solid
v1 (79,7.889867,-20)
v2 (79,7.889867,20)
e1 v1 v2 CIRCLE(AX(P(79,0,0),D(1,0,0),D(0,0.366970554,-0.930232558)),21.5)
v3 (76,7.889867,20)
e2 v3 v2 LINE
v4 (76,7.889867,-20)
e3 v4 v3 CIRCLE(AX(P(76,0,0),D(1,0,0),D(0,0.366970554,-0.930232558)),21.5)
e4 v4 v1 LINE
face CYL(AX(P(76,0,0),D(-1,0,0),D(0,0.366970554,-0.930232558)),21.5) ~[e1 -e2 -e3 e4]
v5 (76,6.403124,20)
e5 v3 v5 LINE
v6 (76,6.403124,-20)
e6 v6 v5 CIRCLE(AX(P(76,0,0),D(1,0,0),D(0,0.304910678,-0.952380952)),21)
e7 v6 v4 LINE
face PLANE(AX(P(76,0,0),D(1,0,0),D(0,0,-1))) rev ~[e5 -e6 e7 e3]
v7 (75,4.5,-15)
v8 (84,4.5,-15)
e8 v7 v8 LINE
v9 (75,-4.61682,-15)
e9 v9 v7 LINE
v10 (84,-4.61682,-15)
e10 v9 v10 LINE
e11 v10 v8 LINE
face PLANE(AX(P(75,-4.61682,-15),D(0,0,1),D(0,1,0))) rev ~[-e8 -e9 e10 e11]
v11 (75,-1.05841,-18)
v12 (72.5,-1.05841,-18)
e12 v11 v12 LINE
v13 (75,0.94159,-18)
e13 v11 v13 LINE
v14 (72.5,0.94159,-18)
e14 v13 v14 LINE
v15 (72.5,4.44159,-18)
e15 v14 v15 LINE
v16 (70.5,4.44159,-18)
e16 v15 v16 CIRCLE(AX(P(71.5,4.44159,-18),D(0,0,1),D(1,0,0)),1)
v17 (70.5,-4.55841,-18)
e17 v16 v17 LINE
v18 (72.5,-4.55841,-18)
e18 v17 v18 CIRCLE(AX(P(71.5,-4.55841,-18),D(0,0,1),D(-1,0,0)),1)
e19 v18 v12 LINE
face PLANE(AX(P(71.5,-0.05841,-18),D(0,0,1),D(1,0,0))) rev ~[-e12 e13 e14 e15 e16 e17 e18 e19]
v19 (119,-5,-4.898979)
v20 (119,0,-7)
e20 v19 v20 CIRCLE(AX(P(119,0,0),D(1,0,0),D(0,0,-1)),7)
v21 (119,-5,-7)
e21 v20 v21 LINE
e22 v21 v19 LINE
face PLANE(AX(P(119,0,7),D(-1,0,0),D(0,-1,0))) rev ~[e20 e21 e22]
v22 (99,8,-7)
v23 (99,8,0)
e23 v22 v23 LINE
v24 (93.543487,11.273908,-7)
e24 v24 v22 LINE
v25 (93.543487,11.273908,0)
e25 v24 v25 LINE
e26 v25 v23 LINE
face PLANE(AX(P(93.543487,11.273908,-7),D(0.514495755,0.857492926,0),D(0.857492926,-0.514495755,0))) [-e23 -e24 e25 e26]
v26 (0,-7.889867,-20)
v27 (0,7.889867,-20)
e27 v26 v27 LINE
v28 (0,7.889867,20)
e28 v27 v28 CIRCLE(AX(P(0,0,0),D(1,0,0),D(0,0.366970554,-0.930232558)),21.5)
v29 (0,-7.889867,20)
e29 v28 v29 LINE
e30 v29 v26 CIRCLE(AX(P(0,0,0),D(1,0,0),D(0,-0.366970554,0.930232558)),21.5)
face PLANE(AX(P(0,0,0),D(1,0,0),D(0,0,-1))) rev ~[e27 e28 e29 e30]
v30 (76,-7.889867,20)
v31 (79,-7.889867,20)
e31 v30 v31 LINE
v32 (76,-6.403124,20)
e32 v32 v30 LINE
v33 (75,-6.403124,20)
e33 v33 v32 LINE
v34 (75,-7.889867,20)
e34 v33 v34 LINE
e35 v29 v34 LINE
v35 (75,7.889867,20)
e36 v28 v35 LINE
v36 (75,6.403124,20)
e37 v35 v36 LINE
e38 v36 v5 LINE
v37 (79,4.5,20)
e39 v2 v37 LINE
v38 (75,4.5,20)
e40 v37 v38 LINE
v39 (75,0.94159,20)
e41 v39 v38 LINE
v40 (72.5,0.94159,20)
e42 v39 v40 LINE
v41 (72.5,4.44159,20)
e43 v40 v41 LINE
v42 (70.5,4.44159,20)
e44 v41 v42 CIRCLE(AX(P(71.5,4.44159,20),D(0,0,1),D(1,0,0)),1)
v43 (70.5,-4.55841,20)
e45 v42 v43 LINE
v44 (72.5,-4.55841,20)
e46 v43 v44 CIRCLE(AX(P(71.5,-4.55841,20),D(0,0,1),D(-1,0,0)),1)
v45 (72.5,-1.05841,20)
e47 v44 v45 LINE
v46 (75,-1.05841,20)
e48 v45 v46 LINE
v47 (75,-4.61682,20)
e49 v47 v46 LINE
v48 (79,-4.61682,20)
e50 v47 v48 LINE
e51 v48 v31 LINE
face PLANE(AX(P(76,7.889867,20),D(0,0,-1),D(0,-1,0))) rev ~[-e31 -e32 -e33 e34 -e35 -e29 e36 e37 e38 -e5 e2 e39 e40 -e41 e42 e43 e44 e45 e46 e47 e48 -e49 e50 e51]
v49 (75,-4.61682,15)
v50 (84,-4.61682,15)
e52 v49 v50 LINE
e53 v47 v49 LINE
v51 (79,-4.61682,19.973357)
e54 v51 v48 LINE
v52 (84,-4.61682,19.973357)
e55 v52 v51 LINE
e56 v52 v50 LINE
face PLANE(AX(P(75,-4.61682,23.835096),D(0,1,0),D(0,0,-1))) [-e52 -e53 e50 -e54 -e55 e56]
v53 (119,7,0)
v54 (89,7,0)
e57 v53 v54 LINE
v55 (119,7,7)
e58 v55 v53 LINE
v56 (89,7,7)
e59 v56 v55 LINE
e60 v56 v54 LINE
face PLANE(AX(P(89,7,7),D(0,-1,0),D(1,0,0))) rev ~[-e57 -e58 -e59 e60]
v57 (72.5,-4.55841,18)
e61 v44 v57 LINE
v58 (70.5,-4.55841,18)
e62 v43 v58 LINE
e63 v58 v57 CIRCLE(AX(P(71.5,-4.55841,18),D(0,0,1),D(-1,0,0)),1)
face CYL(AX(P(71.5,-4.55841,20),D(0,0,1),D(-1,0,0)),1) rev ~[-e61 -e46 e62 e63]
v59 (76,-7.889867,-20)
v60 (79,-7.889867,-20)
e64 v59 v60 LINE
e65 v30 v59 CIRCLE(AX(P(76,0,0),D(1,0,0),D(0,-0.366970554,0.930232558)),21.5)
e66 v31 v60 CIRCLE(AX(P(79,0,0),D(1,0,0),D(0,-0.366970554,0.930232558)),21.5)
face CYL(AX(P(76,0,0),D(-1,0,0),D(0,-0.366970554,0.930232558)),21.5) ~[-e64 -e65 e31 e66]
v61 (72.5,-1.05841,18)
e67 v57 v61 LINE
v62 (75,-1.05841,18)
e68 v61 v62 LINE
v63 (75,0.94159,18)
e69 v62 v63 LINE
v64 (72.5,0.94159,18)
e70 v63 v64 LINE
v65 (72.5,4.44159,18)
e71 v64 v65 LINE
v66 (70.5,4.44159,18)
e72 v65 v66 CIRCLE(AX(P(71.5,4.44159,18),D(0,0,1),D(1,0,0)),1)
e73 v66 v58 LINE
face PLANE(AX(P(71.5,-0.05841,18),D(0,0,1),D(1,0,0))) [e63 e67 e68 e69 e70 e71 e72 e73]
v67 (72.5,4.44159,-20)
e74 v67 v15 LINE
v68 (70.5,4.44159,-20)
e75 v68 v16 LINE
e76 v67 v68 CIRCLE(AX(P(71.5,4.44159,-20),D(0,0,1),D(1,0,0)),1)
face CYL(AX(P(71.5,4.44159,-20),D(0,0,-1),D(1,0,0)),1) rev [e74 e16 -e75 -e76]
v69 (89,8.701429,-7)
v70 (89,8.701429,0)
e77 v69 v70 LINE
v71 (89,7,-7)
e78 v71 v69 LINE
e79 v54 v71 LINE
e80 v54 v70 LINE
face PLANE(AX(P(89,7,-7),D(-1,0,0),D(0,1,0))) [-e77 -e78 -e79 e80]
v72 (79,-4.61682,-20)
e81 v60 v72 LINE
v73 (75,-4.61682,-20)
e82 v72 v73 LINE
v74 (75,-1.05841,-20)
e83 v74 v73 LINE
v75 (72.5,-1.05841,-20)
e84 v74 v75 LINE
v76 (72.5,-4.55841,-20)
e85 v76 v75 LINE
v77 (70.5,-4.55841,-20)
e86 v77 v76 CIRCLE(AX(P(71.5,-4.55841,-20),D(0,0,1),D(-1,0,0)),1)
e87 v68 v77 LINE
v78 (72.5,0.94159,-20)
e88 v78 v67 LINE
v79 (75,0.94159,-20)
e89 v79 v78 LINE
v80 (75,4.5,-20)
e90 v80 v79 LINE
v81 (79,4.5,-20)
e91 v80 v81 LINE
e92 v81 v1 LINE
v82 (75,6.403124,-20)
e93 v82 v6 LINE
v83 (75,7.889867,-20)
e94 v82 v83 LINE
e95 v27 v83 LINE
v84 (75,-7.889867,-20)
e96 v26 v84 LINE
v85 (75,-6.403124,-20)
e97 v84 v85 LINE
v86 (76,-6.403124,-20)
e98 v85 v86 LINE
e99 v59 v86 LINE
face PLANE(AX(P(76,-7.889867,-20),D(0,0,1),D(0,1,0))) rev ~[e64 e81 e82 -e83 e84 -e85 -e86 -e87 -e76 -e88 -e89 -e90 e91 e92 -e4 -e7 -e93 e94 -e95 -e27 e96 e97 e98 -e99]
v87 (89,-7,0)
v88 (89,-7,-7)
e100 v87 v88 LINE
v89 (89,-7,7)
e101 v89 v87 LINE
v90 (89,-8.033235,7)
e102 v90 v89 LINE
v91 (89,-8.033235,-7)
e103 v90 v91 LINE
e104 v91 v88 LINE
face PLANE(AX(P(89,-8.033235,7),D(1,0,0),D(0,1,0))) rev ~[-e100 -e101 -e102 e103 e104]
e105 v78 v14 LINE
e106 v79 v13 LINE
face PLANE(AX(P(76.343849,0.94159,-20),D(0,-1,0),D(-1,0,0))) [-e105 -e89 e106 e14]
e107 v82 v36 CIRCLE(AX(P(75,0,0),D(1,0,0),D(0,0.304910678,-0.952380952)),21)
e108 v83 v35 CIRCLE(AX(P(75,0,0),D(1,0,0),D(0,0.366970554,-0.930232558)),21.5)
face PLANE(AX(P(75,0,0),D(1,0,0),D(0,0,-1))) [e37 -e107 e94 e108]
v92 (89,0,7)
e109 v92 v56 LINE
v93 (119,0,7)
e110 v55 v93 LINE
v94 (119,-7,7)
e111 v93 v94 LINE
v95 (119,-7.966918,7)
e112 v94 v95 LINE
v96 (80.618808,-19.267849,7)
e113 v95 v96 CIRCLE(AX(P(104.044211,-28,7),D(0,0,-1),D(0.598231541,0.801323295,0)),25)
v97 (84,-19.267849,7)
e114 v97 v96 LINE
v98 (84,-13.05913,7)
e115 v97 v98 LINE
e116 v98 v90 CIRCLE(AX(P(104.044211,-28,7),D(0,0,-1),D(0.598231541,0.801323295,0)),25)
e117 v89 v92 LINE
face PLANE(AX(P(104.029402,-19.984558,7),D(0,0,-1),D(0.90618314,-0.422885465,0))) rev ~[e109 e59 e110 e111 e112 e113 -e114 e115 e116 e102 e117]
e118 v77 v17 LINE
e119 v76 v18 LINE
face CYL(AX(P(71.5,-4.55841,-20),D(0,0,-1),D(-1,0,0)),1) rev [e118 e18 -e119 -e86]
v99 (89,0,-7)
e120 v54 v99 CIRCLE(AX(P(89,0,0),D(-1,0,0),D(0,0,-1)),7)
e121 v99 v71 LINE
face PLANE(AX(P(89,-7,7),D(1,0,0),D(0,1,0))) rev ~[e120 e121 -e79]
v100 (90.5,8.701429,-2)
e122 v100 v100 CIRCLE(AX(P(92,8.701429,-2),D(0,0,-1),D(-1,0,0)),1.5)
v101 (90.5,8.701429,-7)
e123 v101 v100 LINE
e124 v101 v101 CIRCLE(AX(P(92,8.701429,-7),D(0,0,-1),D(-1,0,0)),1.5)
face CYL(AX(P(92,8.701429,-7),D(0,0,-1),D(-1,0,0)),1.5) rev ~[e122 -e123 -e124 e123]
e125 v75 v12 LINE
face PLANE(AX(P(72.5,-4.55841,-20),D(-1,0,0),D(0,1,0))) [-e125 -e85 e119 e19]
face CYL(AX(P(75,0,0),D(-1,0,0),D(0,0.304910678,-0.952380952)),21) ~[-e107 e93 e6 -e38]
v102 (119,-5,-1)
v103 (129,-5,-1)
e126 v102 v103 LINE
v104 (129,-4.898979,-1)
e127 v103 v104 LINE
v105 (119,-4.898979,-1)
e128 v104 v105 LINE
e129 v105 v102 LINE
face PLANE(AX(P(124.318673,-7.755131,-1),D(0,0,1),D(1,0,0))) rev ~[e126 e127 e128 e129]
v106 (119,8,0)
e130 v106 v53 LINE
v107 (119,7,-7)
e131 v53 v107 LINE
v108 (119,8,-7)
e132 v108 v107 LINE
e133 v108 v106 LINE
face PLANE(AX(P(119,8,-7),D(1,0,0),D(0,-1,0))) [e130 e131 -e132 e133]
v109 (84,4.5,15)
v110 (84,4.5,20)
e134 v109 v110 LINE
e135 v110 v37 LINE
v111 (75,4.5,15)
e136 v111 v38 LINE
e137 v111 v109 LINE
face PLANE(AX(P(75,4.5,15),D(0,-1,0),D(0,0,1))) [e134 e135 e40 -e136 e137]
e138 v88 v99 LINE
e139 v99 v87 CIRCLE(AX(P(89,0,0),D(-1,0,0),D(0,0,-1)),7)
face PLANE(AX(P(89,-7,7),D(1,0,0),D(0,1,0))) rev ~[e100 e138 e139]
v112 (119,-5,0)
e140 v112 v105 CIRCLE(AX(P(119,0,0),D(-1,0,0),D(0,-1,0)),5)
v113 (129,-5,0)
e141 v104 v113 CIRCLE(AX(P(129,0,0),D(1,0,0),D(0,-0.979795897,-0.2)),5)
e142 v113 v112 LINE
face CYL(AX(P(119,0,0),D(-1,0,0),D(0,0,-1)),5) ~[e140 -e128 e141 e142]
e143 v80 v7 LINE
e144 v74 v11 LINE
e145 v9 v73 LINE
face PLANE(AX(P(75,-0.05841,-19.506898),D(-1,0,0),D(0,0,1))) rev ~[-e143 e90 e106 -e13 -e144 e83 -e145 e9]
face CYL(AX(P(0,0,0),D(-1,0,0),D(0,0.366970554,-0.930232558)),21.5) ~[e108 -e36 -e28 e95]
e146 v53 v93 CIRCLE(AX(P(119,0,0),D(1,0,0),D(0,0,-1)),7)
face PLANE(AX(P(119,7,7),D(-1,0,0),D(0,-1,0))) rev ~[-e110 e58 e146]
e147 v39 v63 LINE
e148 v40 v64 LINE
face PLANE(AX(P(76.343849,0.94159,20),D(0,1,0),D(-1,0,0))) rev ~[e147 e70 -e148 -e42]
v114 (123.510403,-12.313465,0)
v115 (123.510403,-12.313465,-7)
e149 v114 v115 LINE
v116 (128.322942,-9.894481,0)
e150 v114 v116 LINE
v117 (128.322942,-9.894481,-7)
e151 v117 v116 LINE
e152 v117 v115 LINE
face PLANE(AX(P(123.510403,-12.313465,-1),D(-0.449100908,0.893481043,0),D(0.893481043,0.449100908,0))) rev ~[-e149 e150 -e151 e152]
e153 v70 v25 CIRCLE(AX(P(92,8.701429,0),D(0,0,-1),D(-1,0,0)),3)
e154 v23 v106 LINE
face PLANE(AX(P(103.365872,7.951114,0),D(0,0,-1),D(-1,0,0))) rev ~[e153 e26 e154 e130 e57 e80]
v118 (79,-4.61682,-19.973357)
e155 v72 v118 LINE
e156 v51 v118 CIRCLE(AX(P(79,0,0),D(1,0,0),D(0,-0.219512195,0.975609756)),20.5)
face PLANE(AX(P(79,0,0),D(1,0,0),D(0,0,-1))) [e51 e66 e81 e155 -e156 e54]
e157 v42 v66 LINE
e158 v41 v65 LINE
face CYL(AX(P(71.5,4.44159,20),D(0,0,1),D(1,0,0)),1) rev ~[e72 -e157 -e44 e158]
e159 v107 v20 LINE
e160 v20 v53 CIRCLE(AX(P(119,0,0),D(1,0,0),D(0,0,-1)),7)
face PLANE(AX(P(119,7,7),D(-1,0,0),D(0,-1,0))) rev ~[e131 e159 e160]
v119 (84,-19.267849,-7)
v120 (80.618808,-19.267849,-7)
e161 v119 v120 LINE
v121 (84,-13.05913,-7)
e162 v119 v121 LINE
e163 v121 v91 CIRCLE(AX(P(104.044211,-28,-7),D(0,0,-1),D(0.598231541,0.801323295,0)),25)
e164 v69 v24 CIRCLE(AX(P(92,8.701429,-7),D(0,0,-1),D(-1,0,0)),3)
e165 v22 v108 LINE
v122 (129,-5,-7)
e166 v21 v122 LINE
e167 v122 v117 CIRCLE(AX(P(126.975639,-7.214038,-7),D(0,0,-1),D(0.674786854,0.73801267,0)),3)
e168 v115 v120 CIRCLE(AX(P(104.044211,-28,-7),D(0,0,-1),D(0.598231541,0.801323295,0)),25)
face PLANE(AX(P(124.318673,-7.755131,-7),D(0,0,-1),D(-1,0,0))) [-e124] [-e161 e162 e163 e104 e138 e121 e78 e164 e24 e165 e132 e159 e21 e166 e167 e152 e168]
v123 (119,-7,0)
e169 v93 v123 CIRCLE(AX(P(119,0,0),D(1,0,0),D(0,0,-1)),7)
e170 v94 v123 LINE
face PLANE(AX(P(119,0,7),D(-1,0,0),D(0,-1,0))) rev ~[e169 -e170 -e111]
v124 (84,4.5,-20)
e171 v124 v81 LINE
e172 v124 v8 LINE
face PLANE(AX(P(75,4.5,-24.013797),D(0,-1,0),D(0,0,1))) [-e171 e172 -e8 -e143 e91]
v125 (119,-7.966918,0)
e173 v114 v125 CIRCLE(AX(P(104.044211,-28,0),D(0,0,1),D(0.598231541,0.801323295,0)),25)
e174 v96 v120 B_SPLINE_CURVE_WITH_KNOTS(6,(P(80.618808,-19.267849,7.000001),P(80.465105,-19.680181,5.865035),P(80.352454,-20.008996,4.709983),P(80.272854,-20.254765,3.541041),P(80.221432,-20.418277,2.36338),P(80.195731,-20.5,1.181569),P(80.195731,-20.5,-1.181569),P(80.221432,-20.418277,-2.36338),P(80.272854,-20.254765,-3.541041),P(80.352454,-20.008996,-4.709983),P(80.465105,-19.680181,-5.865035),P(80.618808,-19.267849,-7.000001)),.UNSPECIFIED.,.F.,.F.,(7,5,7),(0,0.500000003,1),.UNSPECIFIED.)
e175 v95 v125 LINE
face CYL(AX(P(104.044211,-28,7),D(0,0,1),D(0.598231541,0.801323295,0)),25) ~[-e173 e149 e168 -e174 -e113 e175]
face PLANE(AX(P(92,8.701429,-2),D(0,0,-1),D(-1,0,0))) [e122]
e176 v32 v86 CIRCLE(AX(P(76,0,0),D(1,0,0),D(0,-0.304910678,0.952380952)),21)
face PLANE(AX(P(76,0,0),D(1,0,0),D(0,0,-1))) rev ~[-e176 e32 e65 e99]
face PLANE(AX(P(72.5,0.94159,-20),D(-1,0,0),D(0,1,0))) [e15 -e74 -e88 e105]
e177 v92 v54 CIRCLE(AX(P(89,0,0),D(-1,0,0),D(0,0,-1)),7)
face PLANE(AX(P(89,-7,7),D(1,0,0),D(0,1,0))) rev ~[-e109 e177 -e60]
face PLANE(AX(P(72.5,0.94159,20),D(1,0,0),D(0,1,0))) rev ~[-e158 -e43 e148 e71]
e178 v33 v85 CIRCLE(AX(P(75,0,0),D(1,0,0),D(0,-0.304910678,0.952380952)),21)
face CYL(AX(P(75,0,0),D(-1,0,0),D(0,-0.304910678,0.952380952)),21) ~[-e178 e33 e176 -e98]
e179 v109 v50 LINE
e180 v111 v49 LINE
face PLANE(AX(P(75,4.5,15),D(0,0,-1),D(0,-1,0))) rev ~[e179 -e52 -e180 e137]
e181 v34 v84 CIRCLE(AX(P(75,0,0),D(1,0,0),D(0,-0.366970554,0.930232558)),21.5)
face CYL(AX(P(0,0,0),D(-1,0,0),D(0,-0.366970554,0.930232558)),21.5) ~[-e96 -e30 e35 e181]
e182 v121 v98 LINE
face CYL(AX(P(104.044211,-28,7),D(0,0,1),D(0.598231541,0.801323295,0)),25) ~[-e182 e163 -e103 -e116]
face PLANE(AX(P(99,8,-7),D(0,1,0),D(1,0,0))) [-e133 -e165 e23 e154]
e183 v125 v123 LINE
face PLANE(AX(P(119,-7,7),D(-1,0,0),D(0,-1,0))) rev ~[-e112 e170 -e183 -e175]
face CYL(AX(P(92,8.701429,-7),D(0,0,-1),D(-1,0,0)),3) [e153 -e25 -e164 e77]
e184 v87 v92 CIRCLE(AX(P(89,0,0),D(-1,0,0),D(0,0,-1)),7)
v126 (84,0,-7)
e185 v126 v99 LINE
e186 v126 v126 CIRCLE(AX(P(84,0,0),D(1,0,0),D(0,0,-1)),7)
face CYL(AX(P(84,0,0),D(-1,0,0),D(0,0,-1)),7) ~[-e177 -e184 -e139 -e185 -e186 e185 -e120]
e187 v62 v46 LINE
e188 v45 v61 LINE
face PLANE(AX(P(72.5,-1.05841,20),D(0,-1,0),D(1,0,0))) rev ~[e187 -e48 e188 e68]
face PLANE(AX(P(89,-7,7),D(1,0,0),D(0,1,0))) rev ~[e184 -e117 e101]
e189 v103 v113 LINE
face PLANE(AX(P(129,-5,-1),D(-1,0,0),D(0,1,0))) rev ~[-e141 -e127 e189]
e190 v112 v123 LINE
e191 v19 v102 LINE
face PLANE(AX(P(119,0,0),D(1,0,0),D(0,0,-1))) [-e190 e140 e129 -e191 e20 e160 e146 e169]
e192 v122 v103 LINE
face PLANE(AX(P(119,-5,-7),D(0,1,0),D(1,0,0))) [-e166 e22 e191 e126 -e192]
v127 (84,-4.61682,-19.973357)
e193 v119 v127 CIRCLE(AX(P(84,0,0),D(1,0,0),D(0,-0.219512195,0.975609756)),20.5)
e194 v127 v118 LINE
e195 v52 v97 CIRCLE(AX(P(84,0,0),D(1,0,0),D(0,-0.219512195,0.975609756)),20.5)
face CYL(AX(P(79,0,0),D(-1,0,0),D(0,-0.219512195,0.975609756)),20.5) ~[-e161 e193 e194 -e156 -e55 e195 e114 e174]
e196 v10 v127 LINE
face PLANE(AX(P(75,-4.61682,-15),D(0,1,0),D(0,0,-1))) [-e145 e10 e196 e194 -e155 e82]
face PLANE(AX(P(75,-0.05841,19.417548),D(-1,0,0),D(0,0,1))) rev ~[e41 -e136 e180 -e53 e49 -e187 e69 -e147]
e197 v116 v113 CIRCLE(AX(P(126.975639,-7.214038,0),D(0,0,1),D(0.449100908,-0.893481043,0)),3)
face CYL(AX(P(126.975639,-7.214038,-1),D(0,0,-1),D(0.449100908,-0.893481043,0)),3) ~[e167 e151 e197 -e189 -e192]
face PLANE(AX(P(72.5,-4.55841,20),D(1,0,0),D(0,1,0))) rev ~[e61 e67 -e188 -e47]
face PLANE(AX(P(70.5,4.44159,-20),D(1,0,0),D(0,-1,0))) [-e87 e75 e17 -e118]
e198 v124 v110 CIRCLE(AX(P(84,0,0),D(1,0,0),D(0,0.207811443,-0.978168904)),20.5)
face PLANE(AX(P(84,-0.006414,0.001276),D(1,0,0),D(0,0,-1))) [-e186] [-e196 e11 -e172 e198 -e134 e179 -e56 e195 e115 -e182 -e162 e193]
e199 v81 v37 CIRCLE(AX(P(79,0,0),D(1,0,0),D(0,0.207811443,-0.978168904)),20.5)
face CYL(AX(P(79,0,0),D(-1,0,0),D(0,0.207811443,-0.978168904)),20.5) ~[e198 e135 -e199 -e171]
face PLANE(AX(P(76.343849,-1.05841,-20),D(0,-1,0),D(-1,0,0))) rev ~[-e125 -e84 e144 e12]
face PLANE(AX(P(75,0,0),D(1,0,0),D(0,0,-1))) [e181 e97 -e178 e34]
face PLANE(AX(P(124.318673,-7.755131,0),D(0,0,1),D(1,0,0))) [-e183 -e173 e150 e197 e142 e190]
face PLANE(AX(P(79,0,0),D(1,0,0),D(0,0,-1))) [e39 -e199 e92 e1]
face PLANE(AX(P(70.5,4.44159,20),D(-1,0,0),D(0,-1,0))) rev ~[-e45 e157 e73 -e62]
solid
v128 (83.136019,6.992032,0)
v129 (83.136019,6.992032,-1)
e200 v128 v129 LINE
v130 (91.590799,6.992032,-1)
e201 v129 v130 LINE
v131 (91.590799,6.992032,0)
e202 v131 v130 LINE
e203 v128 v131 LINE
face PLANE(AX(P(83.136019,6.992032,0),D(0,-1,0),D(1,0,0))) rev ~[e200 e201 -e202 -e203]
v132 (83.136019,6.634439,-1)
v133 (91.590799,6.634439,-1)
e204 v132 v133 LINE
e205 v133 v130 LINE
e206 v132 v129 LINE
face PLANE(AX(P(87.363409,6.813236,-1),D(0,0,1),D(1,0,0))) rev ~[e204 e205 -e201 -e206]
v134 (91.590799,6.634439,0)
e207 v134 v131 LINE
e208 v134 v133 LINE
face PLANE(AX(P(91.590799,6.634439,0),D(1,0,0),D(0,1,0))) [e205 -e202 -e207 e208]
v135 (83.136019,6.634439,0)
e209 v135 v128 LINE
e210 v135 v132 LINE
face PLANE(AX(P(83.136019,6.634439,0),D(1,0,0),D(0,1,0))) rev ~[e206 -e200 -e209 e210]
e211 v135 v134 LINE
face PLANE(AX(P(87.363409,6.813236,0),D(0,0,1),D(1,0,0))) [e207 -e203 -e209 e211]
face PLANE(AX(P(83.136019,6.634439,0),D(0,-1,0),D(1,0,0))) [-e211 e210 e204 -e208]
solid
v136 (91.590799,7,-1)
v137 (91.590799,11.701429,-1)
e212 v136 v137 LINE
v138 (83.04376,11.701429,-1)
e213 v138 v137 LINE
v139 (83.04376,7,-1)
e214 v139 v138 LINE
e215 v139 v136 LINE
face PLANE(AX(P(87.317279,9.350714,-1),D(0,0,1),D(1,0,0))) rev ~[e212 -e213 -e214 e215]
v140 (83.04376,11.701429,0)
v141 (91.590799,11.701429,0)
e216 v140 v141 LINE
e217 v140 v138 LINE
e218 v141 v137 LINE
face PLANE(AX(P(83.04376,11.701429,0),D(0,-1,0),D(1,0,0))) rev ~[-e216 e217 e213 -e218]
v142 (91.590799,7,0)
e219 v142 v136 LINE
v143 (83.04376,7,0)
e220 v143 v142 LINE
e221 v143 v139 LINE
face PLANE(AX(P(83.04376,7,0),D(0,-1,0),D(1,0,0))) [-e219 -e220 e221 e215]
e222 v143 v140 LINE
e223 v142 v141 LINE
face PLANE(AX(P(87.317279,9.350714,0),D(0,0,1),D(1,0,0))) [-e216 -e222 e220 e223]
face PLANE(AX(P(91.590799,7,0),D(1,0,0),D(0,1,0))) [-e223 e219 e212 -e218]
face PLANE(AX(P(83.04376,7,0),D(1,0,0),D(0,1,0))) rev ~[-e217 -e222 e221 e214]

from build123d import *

# Parameters (mm, degrees)
BOSS_EXTRU_1_DEPTH      = 75
BOSS_EXTRU_2_DEPTH      = 1
BOSS_EXTRU_3_DEPTH      = 3
BOSS_EXTRU_4_DEPTH      = 5
ENL_V_START             = -9
ENL_V_MAT_EXTRU_4_DEPTH = 9
ESQUISSE6_W             = 1.343848997
ESQUISSE6_H             = 2
ENL_V_MAT_EXTRU_5_DEPTH = 2
ESQUISSE7_W             = 4.610249179
ESQUISSE7_H             = 2
ENL_V_MAT_EXTRU_7_DEPTH = 2
ESQUISSE8_R             = 7
BOSS_EXTRU_5_DEPTH      = 35
ESQUISSE9_R             = 5
BOSS_EXTRU_6_DEPTH      = 10
BOSS_EXTRU_7_DEPTH      = 14
BOSS_EXTRU_8_DEPTH      = 7
ESQUISSE11_W            = 8.454779373
ESQUISSE11_H            = 0.357592341
BOSS_EXTRU_14_DEPTH     = 1
ESQUISSE11_W_2          = 8.547038988
ESQUISSE11_H_2          = 4.701428863
BOSS_EXTRU_14_2_DEPTH   = 1
ESQUISSE13_R            = 1.5
ENL_V_MAT_EXTRU_9_DEPTH = 5
BOSS_EXTRU_19_DEPTH     = 6
BOSS_EXTRU_21_DEPTH     = 1


with BuildPart() as part:
    # Esquisse1 → Boss.-Extru.1 (new body)
    with BuildSketch(Plane(origin=(0, 0, 0), x_dir=(0, 0, -1), z_dir=(1, 0, 0))):
        with BuildLine():
            Line((-20, 7.889866919), (-20, -7.889866919))
            ThreePointArc((-20, -7.889866919), (0, -21.5), (20, -7.889866919))
            Line((20, -7.889866919), (20, 7.889866919))
            ThreePointArc((20, 7.889866919), (0, 21.5), (-20, 7.889866919))
        make_face()
    extrude(amount=BOSS_EXTRU_1_DEPTH)

    # Esquisse2 → Boss.-Extru.2 (add)
    with BuildSketch(Plane(origin=(75, 0, 0), x_dir=(0, 0, -1), z_dir=(1, 0, 0))):
        with BuildLine():
            Line((-20, 6.403124237), (-20, -6.403124237))
            ThreePointArc((-20, -6.403124237), (0, -21), (20, -6.403124237))
            Line((20, -6.403124237), (20, 6.403124237))
            ThreePointArc((20, 6.403124237), (0, 21), (-20, 6.403124237))
        make_face()
    extrude(amount=BOSS_EXTRU_2_DEPTH)

    # Esquisse3 → Boss.-Extru.3 (add)
    with BuildSketch(Plane(origin=(76, 0, 0), x_dir=(0, 0, -1), z_dir=(1, 0, 0))):
        with BuildLine():
            Line((-20, 7.889866919), (-20, -7.889866919))
            ThreePointArc((-20, -7.889866919), (0, -21.5), (20, -7.889866919))
            Line((20, -7.889866919), (20, 7.889866919))
            ThreePointArc((20, 7.889866919), (0, 21.5), (-20, 7.889866919))
        make_face()
    extrude(amount=BOSS_EXTRU_3_DEPTH)

    # Esquisse4 → Boss.-Extru.4 (add)
    with BuildSketch(Plane(origin=(79, 0, 0), x_dir=(0, 0, -1), z_dir=(1, 0, 0))):
        with BuildLine():
            Line((-20.052462527, 4.260134574), (-20, -4.5))
            ThreePointArc((-20, -4.5), (0.122767809, -20.499632389), (20.052462527, -4.260134574))
            Line((20.052462527, -4.260134574), (20.052462527, 4.260134574))
            ThreePointArc((20.052462527, 4.260134574), (0, 20.5), (-20.052462527, 4.260134574))
        make_face()
    extrude(amount=BOSS_EXTRU_4_DEPTH)

    # Esquisse5 → Enlèv. mat.-Extru.4 (cut)
    with BuildSketch(Plane(origin=(84, 0, 0), x_dir=(0, 0, -1), z_dir=(1, 0, 0)).offset(ENL_V_START)):
        Polygon((-20, 4.5), (-15, 4.5), (-15, -4.616819805), (-20, -4.616819805), (-23.835096054, -4.616819805), (-23.835096054, 4.5), align=None)
        Polygon((20, -4.616819805), (15, -4.616819805), (15, 4.5), (20, 4.5), (24.013796719, 4.5), (24.013796719, -4.616819805), align=None)
    extrude(amount=ENL_V_MAT_EXTRU_4_DEPTH, mode=Mode.SUBTRACT)

    # Esquisse6 → Enlèv. mat.-Extru.5 (cut)
    with BuildSketch(Plane.XY.offset(20)):
        with BuildLine():
            Line((72.5, -4.558409903), (72.5, 4.441590097))
            ThreePointArc((72.5, 4.441590097), (71.5, 5.441590097), (70.5, 4.441590097))
            Line((70.5, 4.441590097), (70.5, -4.558409903))
            ThreePointArc((70.5, -4.558409903), (71.5, -5.558409903), (72.5, -4.558409903))
        make_face()
        Polygon((72.5, -0.058409903), (72.5, -1.058409903), (75, -1.058409903), (75, 0.941590097), (72.5, 0.941590097), align=None)
        with Locations((75.671924499, -0.058409903)):
            Rectangle(ESQUISSE6_W, ESQUISSE6_H)
    extrude(amount=-ENL_V_MAT_EXTRU_5_DEPTH, mode=Mode.SUBTRACT)

    # Esquisse7 → Enlèv. mat.-Extru.7 (cut)
    with BuildSketch(Plane(origin=(0, 0, -20), x_dir=(-1, 0, 0), z_dir=(0, 0, -1))):
        with BuildLine():
            Line((-70.5, 4.441590097), (-70.5, -4.558409903))
            ThreePointArc((-70.5, -4.558409903), (-71.5, -5.558409903), (-72.5, -4.558409903))
            Line((-72.5, -4.558409903), (-72.5, 4.441590097))
            ThreePointArc((-72.5, 4.441590097), (-71.5, 5.441590097), (-70.5, 4.441590097))
        make_face()
        with Locations((-74.038724408, -0.058409903)):
            Rectangle(ESQUISSE7_W, ESQUISSE7_H)
    extrude(amount=-ENL_V_MAT_EXTRU_7_DEPTH, mode=Mode.SUBTRACT)

    # Esquisse8 → Boss.-Extru.5 (add)
    with BuildSketch(Plane(origin=(84, 0, 0), x_dir=(0, 0, -1), z_dir=(1, 0, 0))):
        Circle(ESQUISSE8_R)
    extrude(amount=BOSS_EXTRU_5_DEPTH)

    # Esquisse9 → Boss.-Extru.6 (add)
    with BuildSketch(Plane(origin=(119, 0, 0), x_dir=(0, 0, -1), z_dir=(1, 0, 0))):
        Circle(ESQUISSE9_R)
    extrude(amount=BOSS_EXTRU_6_DEPTH)

    # Esquisse3D1 → Boss.-Extru.7 (add)
    with BuildSketch(Plane(origin=(119, -7, 7), x_dir=(-0.9061831399952655, 0.42288546533112387, 0), z_dir=(0, 0, 1))):
        with BuildLine():
            Line((0, 0), (-0.40889541, 0.876204451))
            ThreePointArc((-0.40889541, 0.876204451), (-5.950101839, 47.985584164), (26.748554102, 13.622864171))
            Line((26.748554102, 13.622864171), (27.1854942, 12.68656396))
            Line((27.1854942, 12.68656396), (30.145692457, 6.34328198))
            Line((30.145692457, 6.34328198), (33.105890714, 0))
            Line((33.105890714, 0), (5.920396515, -12.68656396))
            Line((5.920396515, -12.68656396), (2.960198257, -6.34328198))
            Line((2.960198257, -6.34328198), (0, 0))
        make_face()
    extrude(amount=-BOSS_EXTRU_7_DEPTH)

    # Esquisse10 → Boss.-Extru.8 (add)
    with BuildSketch(Plane(origin=(0, 0, -7), x_dir=(-1, 0, 0), z_dir=(0, 0, -1))):
        with BuildLine():
            Line((-93.543487266, 11.27390764), (-99, 8))
            Line((-99, 8), (-119, 8))
            Line((-119, 8), (-119, 7))
            Line((-119, 7), (-89, 7))
            Line((-89, 7), (-89, 8.701428863))
            ThreePointArc((-89, 8.701428863), (-90.521903555, 11.312028583), (-93.543487266, 11.27390764))
        make_face()
    extrude(amount=-BOSS_EXTRU_8_DEPTH)

    # Esquisse13 → Enlèv. mat.-Extru.9 (cut)
    with BuildSketch(Plane(origin=(0, 0, -7), x_dir=(-1, 0, 0), z_dir=(0, 0, -1))):
        with Locations((-92, 8.701428863)):
            Circle(ESQUISSE13_R)
    extrude(amount=-ENL_V_MAT_EXTRU_9_DEPTH, mode=Mode.SUBTRACT)

    # Esquisse14 → Boss.-Extru.19 (add)
    with BuildSketch(Plane(origin=(0, 0, -7), x_dir=(-1, 0, 0), z_dir=(0, 0, -1))):
        with BuildLine():
            Line((-119, -7.966917626), (-119, -5))
            Line((-119, -5), (-129, -5))
            ThreePointArc((-129, -5), (-129.947341767, -7.625116181), (-128.322942162, -9.894481139))
            Line((-128.322942162, -9.894481139), (-123.510402797, -12.313464527))
            ThreePointArc((-123.510402797, -12.313464527), (-121.391871018, -9.998369292), (-119, -7.966917626))
        make_face()
        with BuildLine():
            Line((-116.735831391, -15.718647205), (-119, -5))
            Line((-119, -5), (-119, -7.966917626))
            ThreePointArc((-119, -7.966917626), (-121.391871018, -9.998369292), (-123.510402797, -12.313464527))
            Line((-123.510402797, -12.313464527), (-116.735831391, -15.718647205))
        make_face()
    extrude(amount=-BOSS_EXTRU_19_DEPTH)

    # Esquisse15 → Boss.-Extru.21 (add)
    with BuildSketch(Plane.XY.offset(-1)):
        with BuildLine():
            Line((129, -5), (119, -5))
            Line((119, -5), (119, -7.966917626))
            ThreePointArc((119, -7.966917626), (121.391871018, -9.998369292), (123.510402797, -12.313464527))
            Line((123.510402797, -12.313464527), (128.322942162, -9.894481139))
            ThreePointArc((128.322942162, -9.894481139), (129.947341767, -7.625116181), (129, -5))
        make_face()
        with BuildLine():
            Line((119, -7.966917626), (119, -5))
            Line((119, -5), (129, -5))
            Line((129, -5), (129, -4.21403801))
            Line((129, -4.21403801), (116.988858201, -4.21403801))
            Line((116.988858201, -4.21403801), (116.735831391, -15.718647205))
            Line((116.735831391, -15.718647205), (123.510402797, -12.313464527))
            ThreePointArc((123.510402797, -12.313464527), (121.391871018, -9.998369292), (119, -7.966917626))
        make_face()
    extrude(amount=BOSS_EXTRU_21_DEPTH)


with BuildPart() as body_2:
    # Esquisse11 → Boss.-Extru.14 (new body)
    with BuildSketch(Plane.XY):
        with Locations((87.363409124, 6.813235512)):
            Rectangle(ESQUISSE11_W, ESQUISSE11_H)
    extrude(amount=-BOSS_EXTRU_14_DEPTH)


with BuildPart() as body_3:
    # Esquisse11 → Boss.-Extru.14 2 (new body)
    with BuildSketch(Plane.XY):
        with Locations((87.317279316, 9.350714432)):
            Rectangle(ESQUISSE11_W_2, ESQUISSE11_H_2)
    extrude(amount=-BOSS_EXTRU_14_2_DEPTH)


solid = Compound([part.part, body_2.part, body_3.part])
